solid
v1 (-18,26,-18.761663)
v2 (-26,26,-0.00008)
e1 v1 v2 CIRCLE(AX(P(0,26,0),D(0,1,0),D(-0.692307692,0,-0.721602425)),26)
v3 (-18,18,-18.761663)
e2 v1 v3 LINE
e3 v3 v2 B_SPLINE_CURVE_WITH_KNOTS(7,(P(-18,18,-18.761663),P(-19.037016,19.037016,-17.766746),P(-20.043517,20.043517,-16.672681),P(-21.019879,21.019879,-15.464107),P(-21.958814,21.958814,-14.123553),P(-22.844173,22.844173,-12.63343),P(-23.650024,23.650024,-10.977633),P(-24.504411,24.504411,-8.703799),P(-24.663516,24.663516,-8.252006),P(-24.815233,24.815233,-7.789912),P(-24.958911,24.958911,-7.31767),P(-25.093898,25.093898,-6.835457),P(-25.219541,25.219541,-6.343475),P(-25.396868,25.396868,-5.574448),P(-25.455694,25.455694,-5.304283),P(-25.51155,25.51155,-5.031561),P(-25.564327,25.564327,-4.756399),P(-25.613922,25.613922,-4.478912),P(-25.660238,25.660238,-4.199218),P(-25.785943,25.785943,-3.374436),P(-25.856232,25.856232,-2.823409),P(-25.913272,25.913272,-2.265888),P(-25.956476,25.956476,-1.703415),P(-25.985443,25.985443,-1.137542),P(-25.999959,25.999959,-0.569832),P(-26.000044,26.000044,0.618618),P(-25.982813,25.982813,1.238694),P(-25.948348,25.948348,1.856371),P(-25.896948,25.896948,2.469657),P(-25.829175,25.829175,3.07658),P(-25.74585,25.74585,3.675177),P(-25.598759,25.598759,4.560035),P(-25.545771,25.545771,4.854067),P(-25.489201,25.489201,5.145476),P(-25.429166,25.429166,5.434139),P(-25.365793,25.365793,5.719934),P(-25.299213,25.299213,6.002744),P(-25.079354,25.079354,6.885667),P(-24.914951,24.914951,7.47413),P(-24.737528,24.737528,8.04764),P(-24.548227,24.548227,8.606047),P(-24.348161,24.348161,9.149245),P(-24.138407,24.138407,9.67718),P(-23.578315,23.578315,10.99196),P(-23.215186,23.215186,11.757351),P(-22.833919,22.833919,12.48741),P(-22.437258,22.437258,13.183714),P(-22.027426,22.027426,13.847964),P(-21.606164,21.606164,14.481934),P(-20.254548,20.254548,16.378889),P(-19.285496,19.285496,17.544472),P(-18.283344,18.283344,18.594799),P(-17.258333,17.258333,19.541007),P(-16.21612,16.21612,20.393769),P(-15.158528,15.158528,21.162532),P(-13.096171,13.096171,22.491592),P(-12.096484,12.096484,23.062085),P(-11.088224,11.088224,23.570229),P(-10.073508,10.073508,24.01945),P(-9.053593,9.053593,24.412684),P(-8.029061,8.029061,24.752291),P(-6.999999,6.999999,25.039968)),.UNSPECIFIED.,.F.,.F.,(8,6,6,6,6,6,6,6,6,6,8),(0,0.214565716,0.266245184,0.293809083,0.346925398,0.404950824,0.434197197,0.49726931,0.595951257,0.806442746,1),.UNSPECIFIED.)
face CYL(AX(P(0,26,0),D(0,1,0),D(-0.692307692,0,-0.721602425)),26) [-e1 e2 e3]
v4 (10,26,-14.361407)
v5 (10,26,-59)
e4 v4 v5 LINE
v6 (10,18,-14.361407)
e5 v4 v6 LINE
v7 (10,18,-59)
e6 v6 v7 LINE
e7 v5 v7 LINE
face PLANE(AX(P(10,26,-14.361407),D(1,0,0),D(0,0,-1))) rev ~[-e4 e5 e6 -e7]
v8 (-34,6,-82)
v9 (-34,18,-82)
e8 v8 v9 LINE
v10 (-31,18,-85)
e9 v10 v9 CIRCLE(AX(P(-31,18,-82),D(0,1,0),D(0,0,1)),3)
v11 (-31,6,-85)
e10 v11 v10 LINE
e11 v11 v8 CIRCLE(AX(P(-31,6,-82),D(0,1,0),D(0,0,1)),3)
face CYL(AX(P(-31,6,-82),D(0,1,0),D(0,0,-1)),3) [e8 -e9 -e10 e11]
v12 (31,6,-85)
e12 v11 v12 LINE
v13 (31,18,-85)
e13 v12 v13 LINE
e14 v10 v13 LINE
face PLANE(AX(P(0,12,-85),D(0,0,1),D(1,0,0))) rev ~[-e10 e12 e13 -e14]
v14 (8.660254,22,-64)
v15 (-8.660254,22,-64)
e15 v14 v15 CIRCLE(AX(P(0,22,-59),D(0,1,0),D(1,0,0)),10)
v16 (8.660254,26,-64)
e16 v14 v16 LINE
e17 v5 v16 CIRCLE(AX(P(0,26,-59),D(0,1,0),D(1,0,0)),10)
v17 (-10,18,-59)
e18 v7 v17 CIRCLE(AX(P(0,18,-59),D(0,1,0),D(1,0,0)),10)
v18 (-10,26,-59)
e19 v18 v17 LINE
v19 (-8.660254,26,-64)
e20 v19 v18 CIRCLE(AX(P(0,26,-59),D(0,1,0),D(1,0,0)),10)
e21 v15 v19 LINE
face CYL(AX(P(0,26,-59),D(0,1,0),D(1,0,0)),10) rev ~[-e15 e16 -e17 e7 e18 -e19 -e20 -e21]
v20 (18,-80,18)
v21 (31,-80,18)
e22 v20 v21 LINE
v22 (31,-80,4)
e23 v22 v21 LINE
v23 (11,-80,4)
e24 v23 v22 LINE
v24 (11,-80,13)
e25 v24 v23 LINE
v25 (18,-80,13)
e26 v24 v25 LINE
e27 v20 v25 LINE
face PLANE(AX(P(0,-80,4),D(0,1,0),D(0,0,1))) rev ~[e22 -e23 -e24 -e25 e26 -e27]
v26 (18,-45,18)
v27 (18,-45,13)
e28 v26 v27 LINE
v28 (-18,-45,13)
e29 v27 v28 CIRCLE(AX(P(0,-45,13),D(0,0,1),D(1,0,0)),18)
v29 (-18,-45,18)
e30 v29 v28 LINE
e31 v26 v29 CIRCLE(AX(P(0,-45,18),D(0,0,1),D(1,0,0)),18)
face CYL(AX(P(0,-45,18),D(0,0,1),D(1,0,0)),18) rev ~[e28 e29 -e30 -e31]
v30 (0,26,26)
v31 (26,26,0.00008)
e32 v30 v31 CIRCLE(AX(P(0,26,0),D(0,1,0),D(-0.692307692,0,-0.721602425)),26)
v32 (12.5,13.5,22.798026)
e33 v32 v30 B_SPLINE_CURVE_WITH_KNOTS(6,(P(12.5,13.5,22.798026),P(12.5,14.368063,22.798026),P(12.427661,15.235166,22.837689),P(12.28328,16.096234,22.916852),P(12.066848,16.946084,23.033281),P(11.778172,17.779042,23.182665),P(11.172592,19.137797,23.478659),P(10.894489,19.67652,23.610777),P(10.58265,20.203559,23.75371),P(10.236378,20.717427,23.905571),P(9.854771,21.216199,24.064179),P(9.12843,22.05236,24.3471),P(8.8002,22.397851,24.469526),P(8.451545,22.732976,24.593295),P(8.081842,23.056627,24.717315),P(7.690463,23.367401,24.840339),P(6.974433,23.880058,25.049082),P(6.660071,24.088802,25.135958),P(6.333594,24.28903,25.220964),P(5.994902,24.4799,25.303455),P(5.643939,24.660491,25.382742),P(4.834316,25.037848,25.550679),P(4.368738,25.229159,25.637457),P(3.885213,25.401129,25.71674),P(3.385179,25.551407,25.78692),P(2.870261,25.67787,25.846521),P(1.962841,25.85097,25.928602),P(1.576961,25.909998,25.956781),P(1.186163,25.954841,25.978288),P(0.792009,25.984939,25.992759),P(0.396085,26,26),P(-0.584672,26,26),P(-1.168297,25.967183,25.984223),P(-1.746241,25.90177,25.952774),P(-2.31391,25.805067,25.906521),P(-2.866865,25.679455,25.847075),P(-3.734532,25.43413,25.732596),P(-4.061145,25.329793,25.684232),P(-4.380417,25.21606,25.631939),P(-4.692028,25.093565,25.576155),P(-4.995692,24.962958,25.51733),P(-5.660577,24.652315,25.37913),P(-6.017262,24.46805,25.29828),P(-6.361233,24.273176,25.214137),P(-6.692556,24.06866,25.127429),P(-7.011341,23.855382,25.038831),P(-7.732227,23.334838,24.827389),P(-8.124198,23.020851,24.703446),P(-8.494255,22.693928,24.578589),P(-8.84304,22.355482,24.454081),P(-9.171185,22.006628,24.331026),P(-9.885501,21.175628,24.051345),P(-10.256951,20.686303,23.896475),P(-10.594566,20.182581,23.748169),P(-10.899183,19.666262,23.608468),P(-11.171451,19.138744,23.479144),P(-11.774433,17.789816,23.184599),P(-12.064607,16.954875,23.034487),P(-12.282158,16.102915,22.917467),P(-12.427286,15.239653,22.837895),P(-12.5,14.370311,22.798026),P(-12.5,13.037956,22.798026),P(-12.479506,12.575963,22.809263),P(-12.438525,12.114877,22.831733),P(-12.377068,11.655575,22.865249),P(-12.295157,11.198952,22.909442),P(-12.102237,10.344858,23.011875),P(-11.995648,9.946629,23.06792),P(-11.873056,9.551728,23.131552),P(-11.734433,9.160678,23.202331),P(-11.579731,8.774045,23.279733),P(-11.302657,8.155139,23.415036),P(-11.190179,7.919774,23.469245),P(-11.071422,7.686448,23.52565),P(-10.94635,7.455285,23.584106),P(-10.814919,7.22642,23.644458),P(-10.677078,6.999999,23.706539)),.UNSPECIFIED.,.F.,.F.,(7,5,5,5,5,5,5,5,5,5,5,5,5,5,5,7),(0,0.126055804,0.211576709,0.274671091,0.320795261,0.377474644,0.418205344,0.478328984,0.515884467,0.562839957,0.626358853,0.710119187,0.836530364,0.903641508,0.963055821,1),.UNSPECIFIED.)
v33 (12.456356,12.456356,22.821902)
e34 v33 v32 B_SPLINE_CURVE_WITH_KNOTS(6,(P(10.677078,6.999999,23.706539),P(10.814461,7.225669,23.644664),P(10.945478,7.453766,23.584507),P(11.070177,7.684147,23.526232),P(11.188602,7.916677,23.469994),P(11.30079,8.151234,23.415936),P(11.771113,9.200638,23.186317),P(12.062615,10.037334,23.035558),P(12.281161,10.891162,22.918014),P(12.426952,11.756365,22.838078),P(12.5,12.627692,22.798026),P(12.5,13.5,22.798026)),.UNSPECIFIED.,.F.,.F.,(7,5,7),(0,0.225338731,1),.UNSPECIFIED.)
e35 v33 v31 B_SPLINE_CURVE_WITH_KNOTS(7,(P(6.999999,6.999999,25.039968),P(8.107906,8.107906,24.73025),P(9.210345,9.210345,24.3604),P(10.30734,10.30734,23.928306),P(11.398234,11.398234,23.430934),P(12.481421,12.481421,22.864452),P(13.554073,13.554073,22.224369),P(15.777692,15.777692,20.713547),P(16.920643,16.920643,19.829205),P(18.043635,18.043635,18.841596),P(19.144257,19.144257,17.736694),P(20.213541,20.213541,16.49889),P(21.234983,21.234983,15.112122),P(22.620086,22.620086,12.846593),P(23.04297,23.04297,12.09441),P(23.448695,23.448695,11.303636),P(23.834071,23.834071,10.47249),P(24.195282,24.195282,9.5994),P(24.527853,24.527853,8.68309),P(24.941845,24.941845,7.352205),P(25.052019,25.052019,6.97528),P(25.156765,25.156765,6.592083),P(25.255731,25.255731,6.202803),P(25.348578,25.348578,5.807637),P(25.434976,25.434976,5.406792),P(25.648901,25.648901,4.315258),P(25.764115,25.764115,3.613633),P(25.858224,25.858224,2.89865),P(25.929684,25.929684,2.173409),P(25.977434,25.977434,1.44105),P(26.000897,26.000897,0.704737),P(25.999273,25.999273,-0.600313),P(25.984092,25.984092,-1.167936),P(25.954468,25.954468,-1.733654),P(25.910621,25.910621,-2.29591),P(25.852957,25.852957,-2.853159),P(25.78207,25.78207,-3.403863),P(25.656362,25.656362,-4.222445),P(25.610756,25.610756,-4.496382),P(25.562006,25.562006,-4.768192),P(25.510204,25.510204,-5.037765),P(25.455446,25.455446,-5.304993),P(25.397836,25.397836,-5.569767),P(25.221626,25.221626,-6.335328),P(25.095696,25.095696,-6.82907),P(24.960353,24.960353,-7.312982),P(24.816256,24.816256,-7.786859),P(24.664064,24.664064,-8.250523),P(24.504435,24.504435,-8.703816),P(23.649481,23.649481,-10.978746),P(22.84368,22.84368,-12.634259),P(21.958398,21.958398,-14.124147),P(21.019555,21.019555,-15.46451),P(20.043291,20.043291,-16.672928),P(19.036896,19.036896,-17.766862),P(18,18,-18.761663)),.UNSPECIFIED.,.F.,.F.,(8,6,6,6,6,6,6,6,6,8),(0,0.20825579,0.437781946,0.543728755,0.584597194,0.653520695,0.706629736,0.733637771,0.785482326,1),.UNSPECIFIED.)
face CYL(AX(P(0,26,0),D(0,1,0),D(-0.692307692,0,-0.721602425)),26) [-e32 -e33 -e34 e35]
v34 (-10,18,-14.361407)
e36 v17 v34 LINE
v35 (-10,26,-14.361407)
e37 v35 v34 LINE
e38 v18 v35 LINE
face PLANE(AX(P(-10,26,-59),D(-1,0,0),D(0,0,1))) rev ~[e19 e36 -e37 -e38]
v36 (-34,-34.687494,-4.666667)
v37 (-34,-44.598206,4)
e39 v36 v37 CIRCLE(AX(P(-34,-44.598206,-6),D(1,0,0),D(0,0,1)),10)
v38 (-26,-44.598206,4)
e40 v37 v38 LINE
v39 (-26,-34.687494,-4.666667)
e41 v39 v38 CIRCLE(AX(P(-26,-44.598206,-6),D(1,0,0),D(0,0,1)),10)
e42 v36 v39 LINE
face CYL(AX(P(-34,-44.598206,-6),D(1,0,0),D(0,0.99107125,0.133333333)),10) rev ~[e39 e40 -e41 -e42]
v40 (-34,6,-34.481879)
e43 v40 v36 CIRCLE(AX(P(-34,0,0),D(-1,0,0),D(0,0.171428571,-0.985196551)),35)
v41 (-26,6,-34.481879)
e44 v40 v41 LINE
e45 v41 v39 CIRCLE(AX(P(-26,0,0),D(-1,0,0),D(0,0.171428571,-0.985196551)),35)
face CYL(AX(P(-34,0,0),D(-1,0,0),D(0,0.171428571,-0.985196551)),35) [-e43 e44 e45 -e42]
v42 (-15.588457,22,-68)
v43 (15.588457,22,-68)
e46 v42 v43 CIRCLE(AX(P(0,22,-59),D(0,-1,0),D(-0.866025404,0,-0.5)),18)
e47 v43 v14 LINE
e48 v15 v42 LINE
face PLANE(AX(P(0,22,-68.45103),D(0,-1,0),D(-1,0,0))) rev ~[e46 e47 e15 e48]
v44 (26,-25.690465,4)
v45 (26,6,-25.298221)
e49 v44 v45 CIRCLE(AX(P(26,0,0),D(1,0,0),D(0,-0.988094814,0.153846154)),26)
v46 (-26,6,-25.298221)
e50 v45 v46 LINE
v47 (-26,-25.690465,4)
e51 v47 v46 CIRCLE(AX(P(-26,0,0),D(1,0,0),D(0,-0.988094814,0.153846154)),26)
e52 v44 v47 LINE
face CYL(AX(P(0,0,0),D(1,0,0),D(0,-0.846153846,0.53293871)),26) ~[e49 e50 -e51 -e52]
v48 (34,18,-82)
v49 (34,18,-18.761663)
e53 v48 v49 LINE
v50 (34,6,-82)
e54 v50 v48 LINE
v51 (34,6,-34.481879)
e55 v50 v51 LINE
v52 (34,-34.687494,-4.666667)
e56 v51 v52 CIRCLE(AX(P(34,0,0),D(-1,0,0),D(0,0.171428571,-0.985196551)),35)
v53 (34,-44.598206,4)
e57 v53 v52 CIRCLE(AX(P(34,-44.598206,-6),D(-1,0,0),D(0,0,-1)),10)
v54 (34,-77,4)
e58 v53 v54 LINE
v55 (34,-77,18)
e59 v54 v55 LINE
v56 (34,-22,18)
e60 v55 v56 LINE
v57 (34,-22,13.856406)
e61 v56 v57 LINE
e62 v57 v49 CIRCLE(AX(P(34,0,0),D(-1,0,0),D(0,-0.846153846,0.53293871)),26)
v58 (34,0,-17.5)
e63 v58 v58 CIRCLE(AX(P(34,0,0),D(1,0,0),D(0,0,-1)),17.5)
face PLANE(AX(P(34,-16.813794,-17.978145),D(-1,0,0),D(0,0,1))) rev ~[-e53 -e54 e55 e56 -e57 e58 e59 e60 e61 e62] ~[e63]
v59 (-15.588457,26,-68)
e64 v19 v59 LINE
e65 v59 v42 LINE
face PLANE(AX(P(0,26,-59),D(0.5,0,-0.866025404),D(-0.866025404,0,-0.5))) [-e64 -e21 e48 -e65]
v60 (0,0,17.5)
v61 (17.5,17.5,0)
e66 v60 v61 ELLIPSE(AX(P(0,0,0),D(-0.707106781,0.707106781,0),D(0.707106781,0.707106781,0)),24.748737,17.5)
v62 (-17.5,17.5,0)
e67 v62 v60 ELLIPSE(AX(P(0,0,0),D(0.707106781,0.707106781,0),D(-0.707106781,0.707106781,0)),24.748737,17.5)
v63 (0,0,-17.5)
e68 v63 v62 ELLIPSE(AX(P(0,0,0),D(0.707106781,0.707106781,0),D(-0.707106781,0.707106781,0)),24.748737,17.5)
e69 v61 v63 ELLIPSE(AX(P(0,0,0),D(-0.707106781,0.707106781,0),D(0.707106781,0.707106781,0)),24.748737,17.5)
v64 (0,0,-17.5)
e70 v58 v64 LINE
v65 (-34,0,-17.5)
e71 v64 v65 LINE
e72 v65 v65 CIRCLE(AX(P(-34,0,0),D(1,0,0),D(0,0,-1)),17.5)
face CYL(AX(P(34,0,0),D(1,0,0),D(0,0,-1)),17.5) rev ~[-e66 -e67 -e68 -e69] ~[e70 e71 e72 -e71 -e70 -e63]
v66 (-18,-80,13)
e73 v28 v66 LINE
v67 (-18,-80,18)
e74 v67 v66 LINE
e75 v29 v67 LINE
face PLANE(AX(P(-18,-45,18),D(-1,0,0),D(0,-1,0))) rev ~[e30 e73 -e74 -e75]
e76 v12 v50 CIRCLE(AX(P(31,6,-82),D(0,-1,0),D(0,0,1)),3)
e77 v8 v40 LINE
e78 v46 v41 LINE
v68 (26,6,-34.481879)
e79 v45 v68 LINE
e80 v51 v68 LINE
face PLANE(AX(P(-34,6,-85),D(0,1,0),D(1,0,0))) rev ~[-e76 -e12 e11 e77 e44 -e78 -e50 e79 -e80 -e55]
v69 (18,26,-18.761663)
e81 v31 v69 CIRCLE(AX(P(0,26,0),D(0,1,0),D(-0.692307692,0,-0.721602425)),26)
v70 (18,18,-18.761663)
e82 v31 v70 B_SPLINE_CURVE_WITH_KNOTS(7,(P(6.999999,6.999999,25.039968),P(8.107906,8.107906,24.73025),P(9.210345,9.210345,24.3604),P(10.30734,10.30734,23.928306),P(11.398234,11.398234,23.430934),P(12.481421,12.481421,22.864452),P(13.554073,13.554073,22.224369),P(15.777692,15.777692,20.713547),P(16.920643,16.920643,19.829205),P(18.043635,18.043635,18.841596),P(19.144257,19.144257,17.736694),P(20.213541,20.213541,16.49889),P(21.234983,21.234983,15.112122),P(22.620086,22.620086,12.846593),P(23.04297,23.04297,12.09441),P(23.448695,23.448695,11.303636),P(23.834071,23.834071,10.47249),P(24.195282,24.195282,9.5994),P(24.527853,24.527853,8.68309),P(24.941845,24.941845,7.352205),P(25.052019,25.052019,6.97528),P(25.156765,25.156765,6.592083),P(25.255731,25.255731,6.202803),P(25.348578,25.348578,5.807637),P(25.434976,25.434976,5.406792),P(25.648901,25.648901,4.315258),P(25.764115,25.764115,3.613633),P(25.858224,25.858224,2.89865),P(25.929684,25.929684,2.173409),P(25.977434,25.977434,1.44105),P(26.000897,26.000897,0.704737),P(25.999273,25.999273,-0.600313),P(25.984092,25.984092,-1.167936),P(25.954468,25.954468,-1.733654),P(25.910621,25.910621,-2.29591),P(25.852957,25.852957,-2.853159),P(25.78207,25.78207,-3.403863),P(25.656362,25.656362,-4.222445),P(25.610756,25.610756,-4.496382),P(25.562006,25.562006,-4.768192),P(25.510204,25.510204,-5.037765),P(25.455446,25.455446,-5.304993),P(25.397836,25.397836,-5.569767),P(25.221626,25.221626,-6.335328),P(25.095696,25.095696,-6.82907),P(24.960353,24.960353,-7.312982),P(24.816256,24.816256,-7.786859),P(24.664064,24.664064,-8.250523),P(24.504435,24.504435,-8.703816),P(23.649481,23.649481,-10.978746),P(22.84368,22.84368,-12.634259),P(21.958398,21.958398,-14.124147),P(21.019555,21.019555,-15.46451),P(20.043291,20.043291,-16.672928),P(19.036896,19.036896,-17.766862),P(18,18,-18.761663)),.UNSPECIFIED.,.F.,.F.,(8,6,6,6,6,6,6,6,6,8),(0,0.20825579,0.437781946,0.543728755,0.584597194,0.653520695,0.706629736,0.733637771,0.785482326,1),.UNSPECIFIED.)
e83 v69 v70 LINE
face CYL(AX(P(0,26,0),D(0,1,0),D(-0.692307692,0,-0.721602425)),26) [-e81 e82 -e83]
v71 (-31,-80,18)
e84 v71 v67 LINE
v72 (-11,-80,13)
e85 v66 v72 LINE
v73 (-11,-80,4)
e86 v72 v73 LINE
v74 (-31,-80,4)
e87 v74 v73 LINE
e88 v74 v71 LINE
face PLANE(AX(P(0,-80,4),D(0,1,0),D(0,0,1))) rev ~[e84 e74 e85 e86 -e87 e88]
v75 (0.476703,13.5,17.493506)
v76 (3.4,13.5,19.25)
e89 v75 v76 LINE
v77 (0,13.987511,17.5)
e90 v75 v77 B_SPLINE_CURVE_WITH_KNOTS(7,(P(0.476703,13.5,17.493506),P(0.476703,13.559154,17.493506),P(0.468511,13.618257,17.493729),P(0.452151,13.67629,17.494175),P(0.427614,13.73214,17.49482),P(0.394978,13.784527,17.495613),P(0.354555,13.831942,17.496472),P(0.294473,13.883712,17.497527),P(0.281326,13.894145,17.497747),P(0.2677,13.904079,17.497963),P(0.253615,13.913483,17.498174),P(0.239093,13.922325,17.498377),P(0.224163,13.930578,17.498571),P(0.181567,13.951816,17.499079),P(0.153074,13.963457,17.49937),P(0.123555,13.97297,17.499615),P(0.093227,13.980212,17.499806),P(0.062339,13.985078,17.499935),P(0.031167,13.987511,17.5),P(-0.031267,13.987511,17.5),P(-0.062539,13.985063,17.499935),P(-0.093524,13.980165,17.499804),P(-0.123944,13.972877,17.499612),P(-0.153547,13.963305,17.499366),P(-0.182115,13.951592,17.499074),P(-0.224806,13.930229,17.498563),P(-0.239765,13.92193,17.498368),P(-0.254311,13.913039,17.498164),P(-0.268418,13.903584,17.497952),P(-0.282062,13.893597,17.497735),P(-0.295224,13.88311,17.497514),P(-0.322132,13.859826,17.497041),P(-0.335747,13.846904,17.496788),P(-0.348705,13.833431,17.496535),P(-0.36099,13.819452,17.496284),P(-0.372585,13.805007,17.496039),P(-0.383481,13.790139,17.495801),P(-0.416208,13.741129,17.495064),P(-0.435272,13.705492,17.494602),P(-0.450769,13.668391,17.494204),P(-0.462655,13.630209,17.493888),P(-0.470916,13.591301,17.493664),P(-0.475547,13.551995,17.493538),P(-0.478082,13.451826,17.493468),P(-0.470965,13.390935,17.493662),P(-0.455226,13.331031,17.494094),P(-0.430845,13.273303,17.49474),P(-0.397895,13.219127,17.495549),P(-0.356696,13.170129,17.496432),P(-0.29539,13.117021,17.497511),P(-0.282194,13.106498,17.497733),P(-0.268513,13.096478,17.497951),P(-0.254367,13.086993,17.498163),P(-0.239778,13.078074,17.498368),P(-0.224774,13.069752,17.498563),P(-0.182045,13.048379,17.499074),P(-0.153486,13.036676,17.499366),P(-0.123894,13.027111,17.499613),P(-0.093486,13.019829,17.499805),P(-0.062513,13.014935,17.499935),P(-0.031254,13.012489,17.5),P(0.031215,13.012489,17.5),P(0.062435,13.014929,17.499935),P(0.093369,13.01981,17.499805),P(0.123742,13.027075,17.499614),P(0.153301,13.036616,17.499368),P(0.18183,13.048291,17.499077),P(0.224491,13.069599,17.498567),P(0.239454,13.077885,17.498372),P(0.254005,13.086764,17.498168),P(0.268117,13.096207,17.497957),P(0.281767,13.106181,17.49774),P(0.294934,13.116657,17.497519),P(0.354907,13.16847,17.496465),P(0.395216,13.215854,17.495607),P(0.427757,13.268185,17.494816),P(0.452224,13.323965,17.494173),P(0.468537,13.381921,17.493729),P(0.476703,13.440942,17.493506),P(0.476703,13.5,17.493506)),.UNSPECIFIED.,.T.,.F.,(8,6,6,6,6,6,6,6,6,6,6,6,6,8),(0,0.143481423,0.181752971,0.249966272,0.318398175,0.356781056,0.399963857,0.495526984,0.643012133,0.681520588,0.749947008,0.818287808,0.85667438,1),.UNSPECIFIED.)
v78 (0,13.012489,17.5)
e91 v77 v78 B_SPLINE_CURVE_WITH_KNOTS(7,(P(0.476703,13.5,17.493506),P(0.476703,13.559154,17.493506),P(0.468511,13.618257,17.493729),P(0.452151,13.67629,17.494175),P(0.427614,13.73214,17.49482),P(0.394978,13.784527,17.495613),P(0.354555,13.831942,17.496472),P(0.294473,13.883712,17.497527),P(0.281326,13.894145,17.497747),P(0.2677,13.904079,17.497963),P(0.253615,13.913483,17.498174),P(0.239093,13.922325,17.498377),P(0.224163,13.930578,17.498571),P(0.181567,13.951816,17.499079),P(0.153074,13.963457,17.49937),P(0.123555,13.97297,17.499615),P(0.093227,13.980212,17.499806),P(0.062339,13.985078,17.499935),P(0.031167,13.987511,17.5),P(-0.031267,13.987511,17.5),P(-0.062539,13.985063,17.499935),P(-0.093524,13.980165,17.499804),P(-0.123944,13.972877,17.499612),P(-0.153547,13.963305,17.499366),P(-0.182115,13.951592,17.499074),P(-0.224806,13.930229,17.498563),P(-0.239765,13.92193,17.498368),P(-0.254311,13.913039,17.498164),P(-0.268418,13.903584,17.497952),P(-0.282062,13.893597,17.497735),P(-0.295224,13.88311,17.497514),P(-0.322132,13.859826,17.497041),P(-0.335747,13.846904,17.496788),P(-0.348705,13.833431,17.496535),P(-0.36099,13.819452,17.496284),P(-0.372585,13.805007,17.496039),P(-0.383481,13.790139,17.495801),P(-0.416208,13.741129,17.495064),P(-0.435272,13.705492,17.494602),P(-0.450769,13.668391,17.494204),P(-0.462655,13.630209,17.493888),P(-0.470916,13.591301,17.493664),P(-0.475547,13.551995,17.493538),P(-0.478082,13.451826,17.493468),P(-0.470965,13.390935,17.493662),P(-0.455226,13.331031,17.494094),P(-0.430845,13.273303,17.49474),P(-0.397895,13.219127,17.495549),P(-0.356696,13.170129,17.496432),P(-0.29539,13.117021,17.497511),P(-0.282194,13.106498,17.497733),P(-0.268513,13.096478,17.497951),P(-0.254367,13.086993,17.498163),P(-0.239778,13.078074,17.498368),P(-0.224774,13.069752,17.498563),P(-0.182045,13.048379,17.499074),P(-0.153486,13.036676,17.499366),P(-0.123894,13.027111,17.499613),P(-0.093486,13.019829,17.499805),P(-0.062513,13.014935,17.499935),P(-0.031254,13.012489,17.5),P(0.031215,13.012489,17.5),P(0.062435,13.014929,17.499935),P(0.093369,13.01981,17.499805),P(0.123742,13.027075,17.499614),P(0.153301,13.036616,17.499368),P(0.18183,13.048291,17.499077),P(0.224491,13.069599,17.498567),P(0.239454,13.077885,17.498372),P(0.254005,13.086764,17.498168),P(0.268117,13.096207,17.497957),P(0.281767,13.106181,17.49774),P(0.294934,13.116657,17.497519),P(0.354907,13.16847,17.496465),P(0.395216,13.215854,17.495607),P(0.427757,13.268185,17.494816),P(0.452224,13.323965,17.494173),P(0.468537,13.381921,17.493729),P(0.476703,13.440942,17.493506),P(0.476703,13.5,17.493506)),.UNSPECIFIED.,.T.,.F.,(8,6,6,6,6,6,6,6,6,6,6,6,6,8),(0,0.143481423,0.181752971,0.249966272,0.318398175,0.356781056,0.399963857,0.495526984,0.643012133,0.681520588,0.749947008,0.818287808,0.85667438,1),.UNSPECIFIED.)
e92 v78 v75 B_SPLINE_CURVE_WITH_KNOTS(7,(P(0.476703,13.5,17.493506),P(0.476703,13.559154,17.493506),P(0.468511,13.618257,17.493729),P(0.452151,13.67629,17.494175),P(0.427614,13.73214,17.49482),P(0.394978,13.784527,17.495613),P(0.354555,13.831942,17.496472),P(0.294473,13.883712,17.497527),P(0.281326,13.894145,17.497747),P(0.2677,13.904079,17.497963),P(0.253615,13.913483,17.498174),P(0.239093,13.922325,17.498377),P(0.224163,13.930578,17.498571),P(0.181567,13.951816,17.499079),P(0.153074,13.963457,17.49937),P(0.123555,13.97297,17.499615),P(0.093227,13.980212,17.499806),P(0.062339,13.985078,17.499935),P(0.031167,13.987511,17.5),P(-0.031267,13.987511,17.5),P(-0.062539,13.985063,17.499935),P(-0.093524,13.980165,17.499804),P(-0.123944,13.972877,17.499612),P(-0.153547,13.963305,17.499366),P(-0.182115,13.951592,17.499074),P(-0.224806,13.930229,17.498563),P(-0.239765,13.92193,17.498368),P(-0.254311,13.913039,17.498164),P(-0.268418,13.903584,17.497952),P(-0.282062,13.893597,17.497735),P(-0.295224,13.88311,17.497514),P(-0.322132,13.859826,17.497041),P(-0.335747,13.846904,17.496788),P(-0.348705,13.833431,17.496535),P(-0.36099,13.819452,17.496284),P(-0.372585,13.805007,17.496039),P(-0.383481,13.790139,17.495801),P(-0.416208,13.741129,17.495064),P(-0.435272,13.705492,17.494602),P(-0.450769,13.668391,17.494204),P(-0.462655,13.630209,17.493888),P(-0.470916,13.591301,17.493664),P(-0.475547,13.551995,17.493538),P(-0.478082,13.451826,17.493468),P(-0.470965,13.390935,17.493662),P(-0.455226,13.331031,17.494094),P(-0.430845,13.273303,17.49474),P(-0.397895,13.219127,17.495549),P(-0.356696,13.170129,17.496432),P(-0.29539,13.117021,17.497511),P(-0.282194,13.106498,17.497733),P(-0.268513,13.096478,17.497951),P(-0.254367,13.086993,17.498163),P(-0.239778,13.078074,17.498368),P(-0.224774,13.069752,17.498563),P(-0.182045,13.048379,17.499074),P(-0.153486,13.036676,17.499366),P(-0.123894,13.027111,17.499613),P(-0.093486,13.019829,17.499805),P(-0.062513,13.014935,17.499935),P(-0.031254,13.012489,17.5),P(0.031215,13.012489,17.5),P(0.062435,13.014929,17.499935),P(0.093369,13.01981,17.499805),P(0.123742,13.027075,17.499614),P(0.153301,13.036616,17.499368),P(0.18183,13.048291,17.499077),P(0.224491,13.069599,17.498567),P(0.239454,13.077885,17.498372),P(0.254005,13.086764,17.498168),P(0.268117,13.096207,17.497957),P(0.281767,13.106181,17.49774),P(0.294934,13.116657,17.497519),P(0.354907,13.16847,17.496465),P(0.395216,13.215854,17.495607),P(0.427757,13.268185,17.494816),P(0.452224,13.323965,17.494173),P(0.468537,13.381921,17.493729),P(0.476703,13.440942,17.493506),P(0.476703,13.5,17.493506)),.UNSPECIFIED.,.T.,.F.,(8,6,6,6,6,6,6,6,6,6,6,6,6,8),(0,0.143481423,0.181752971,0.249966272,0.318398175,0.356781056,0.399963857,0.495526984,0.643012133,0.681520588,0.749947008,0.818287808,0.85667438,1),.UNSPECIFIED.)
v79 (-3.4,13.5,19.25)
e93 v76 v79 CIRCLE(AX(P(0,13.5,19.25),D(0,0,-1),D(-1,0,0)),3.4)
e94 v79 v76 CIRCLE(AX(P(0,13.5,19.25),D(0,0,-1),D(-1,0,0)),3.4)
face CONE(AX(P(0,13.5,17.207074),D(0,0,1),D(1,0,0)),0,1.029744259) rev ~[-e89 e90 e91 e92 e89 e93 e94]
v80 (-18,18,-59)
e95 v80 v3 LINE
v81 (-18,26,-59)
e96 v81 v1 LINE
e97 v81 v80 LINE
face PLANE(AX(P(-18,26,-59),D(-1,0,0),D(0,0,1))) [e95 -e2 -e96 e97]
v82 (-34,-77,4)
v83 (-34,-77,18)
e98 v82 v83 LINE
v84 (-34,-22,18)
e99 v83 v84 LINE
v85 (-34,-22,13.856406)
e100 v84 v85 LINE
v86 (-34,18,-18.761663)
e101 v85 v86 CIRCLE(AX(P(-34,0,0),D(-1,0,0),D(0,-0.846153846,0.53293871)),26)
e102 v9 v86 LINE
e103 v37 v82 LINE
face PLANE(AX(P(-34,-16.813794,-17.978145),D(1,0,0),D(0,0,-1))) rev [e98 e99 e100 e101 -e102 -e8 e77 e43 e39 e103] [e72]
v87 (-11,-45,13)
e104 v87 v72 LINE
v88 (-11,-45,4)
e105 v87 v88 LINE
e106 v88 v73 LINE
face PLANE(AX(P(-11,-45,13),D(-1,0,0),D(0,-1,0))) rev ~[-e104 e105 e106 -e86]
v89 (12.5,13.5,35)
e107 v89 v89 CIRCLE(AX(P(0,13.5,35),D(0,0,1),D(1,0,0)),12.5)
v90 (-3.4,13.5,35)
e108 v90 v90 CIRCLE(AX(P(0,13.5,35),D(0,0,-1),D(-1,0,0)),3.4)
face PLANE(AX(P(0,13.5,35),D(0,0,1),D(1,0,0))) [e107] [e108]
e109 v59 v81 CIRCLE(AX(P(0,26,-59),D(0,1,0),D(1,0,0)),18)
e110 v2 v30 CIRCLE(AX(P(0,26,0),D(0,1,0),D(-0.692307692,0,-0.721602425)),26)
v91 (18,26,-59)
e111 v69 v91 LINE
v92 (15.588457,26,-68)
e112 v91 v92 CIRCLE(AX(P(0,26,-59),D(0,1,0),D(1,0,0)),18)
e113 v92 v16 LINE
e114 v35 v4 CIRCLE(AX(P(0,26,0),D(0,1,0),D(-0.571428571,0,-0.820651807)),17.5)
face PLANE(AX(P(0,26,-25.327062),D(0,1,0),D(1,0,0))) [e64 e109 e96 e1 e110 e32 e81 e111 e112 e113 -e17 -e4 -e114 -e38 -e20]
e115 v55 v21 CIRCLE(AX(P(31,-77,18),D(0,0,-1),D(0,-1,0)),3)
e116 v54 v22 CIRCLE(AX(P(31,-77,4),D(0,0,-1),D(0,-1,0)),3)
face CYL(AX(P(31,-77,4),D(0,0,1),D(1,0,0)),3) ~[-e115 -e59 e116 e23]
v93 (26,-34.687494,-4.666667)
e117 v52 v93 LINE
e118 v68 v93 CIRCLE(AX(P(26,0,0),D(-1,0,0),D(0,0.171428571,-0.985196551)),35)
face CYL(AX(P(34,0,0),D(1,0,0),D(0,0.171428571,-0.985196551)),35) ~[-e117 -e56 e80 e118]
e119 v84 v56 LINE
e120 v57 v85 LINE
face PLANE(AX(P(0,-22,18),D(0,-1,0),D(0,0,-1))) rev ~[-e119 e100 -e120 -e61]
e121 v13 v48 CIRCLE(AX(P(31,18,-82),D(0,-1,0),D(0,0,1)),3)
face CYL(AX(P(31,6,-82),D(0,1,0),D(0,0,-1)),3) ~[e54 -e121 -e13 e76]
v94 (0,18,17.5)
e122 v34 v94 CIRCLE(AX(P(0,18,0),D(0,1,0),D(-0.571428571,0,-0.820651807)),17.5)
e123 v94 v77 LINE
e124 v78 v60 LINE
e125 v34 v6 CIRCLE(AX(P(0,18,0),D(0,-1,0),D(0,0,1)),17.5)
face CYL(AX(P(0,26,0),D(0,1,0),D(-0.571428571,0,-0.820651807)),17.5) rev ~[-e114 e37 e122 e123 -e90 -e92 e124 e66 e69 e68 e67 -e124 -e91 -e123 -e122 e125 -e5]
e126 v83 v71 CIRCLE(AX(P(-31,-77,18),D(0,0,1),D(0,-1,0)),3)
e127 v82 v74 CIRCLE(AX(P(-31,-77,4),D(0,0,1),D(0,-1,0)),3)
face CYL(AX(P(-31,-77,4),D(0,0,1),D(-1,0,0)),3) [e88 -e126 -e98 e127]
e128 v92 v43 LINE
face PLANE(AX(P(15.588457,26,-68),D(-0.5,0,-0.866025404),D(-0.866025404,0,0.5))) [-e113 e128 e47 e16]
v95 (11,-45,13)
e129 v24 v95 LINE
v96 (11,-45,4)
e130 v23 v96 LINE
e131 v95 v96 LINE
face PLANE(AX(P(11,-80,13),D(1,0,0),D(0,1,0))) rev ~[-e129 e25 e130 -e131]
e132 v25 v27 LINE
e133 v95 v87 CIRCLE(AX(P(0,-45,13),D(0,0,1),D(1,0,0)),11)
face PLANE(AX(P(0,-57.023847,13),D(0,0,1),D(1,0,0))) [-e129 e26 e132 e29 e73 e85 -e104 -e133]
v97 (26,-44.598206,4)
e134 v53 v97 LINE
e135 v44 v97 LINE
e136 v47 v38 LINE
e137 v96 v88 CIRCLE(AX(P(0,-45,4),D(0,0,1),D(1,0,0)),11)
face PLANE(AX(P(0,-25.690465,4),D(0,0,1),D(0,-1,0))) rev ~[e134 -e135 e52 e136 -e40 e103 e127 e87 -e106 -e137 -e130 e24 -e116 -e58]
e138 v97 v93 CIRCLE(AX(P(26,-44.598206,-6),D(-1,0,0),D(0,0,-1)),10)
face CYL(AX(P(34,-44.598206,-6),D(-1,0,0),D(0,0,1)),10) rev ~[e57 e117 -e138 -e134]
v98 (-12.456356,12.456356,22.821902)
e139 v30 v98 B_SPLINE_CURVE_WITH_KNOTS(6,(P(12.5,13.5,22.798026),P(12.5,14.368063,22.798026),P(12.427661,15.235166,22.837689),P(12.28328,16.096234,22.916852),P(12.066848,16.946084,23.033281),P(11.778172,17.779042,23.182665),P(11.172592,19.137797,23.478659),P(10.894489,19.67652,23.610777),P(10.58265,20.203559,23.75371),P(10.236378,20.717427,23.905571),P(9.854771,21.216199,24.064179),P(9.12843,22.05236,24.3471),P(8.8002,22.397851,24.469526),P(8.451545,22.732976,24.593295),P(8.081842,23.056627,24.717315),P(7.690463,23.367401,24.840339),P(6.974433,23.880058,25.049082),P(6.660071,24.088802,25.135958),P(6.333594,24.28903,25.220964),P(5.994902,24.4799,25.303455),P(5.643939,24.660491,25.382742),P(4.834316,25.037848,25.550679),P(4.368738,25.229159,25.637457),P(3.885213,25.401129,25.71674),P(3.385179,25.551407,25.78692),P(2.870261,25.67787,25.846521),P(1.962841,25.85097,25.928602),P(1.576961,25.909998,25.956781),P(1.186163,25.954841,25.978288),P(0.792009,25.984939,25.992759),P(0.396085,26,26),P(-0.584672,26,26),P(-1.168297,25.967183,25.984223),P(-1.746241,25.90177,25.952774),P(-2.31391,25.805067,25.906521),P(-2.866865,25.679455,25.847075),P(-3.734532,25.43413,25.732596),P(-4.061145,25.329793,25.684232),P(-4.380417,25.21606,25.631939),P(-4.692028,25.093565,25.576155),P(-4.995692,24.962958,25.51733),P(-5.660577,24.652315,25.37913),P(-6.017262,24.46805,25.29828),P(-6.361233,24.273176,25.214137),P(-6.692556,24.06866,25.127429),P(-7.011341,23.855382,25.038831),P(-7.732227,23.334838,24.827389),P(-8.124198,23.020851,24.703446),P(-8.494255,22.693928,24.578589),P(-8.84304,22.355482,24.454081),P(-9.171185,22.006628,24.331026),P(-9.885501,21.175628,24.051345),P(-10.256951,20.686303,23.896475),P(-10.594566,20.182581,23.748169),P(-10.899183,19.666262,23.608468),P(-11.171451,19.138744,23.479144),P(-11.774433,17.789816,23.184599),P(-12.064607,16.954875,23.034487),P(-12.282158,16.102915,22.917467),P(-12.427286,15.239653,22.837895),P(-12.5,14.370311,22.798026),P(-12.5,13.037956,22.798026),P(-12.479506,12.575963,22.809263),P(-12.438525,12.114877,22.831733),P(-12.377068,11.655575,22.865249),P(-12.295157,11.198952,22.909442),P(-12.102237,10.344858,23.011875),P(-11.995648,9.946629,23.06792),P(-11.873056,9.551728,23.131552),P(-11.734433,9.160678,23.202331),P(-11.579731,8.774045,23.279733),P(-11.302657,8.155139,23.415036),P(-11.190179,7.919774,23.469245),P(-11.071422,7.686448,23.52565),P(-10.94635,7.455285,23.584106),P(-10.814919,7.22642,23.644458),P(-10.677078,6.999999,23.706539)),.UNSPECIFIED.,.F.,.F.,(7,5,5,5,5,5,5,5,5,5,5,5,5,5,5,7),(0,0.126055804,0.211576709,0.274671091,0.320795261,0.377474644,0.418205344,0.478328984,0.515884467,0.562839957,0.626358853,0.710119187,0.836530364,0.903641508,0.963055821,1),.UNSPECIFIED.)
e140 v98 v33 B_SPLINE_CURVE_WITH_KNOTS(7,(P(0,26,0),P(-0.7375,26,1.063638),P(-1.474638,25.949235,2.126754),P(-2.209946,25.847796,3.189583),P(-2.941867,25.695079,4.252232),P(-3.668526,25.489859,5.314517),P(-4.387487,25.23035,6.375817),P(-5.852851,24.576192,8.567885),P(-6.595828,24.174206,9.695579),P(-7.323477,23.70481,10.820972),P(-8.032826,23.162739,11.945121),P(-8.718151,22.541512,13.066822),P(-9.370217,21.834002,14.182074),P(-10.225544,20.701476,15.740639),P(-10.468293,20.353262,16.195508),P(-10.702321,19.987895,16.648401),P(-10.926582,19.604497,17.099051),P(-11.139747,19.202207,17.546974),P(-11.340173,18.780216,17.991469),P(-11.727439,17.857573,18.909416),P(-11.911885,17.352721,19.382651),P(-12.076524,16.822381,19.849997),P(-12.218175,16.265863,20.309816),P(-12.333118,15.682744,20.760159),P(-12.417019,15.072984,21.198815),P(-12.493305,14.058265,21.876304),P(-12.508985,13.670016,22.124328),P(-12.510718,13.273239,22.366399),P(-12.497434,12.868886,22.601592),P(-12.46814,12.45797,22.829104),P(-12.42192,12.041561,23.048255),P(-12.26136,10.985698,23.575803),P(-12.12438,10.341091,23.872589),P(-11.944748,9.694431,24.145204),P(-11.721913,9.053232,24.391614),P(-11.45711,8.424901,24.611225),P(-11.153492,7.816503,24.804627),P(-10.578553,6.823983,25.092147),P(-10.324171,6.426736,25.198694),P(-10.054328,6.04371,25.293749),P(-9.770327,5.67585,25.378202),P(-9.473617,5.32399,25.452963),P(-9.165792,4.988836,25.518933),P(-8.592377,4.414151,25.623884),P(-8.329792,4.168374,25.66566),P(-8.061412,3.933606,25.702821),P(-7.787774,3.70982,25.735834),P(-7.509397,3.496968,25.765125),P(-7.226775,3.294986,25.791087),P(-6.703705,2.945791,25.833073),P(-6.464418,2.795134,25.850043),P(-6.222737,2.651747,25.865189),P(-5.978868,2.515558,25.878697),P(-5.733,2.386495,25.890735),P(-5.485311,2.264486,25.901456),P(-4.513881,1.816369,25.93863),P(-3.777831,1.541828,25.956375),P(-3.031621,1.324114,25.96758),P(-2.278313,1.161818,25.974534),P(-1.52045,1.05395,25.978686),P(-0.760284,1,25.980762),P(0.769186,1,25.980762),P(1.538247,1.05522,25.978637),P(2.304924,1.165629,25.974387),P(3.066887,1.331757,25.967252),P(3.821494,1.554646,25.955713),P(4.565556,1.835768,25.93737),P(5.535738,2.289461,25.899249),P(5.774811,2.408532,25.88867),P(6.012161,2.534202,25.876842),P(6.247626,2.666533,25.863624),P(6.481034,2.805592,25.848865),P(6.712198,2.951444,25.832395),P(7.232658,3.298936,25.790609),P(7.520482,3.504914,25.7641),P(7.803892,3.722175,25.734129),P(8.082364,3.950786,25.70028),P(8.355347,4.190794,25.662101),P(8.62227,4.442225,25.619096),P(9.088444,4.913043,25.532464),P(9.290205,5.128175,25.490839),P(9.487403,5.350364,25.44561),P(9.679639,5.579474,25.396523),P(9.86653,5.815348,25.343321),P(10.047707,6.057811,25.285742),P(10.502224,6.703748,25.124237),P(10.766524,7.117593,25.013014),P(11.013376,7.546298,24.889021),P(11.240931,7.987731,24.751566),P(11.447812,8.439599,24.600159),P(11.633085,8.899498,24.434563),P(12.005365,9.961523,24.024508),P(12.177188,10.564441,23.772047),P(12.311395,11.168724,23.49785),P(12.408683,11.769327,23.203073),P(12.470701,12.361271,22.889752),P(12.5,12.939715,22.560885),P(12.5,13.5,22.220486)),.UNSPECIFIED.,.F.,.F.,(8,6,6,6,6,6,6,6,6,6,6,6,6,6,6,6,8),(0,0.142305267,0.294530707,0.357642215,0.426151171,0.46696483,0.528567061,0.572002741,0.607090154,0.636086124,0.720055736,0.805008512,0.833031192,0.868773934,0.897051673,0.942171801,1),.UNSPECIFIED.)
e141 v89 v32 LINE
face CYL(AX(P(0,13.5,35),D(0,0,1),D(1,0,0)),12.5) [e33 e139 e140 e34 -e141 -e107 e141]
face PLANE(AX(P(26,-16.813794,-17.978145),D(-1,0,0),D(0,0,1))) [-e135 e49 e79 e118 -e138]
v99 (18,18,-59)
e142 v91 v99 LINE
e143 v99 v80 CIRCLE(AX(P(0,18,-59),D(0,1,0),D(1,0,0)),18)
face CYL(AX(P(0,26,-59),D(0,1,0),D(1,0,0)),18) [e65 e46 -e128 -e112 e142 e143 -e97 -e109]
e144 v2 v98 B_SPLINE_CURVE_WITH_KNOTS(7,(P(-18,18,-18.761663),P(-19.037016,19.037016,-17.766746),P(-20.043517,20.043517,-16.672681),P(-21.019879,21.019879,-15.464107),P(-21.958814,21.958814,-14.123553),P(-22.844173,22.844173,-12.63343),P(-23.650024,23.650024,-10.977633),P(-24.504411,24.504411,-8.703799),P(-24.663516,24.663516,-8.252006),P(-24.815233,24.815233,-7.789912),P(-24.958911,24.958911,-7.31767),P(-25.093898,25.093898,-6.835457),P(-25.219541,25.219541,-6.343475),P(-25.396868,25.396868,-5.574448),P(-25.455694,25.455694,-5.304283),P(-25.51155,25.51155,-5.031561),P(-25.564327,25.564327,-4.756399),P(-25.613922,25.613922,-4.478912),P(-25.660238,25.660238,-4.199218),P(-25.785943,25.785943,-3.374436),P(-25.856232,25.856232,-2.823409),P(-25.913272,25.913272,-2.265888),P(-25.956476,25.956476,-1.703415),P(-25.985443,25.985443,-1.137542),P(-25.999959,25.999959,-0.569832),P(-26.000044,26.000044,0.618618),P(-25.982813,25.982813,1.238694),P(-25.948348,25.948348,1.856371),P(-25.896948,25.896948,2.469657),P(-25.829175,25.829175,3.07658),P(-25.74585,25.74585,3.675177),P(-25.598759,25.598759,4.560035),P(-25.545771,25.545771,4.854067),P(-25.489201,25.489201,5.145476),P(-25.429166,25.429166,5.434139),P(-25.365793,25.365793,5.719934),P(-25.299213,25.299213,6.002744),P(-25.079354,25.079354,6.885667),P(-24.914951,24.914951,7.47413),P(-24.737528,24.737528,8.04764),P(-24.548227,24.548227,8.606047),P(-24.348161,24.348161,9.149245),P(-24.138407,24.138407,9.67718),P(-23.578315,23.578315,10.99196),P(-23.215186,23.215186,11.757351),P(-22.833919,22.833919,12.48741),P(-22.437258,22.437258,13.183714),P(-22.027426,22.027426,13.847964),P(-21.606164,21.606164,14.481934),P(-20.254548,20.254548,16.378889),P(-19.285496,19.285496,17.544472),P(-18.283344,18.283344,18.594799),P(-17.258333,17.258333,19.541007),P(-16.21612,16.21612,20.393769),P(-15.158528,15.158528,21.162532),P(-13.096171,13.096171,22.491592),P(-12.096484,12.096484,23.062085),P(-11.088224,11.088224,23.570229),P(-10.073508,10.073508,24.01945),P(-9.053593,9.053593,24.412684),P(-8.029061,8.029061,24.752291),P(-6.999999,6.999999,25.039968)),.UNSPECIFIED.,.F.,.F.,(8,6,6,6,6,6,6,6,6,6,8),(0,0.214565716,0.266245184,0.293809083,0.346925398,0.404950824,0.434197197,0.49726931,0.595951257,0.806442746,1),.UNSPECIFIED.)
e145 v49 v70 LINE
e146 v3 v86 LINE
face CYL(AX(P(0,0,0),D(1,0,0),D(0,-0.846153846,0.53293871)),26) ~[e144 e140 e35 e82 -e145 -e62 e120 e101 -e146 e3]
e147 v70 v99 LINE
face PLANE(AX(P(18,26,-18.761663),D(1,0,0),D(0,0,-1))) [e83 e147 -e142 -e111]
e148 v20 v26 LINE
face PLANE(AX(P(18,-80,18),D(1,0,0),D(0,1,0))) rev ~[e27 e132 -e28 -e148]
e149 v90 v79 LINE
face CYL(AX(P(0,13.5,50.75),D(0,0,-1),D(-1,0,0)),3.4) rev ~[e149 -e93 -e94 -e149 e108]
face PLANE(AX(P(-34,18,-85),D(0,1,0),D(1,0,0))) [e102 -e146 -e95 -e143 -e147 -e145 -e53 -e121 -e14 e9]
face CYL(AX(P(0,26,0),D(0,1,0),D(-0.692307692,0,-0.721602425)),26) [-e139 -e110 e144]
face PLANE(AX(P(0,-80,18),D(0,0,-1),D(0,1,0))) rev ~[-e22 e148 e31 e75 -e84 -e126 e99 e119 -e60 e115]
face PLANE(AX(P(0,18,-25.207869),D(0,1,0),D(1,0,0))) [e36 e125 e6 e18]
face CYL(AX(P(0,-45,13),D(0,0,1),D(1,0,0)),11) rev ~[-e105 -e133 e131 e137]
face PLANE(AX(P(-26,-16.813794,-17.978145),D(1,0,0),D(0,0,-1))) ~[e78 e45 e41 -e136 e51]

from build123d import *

# Parameters (mm, degrees)
EXTRUDE_6_DEPTH        = 34
EXTRUDE_7_REACH        = 108.193
EXTRUDE_7_END_RADIUS   = 26
SKETCH_15_R            = 12.5
EXTRUDE_8_REACH        = 150.176
EXTRUDE_8_END_RADIUS   = 26
SKETCH_16_W            = 68
SKETCH_16_H            = 12
EXTRUDE_9_DEPTH        = 8
FILLET_2_R             = 10
EXTRUDE_10_DEPTH       = 19
CUT_EXTRUDE_7_DEPTH    = 8
SKETCH_20_R            = 17.5
CUT_EXTRUDE_8_DEPTH    = 68
CUT_EXTRUDE_9_REACH    = 136.108
SKETCH_21_R            = 17.5
CUT_EXTRUDE_10_DEPTH   = 5
CUT_EXTRUDE_11_DEPTH   = 9
CUT_EXTRUDE_12_DEPTH   = 4
FILLET_3_R             = 3
HOLE_WIZARD_M8_1_D     = 6.8
HOLE_WIZARD_M8_1_DEPTH = 15.75
HOLE_WIZARD_M8_1_TIP   = 2.042926105


with BuildPart() as part:
    # 草图1 → 凸台-拉伸6 (new, symmetric)
    with BuildSketch(Plane(origin=(0, 0, 0), x_dir=(0, 0, -1), z_dir=(1, 0, 0))):
        with BuildLine():
            Line((-18, -22), (-13.856406461, -22))
            ThreePointArc((-13.856406461, -22), (9.116890708, 24.349174602), (-4, -25.690465157))
            Line((-4, -25.690465157), (-4, -80))
            Line((-4, -80), (-18, -80))
            Line((-18, -80), (-18, -22))
        make_face()
    extrude(amount=EXTRUDE_6_DEPTH, both=True)

    # 凸台-拉伸7: up to this cylinder (the profile starts outside it)
    extrude_7_end = Plane(origin=(0, 0, 0), z_dir=(-1, 0, 0)) * Cylinder(EXTRUDE_7_END_RADIUS, 269.386, mode=Mode.PRIVATE)
    # 草图15 → 凸台-拉伸7 (add, up to the surface)
    with BuildSketch(Plane.XY.offset(35), mode=Mode.PRIVATE) as extrude_7_sk1:
        with Locations((0, 13.5)):
            Circle(SKETCH_15_R)
    extrude_7_tool1 = extrude(extrude_7_sk1.sketch, amount=-EXTRUDE_7_REACH, mode=Mode.PRIVATE) - extrude_7_end
    add(extrude_7_tool1.solids().sort_by_distance((0, 13.5, 35))[0])

    # 凸台-拉伸8: up to this cylinder (the profile starts outside it)
    extrude_8_end = Plane(origin=(0, 0, 0), z_dir=(-1, 0, 0)) * Cylinder(EXTRUDE_8_END_RADIUS, 353.352, mode=Mode.PRIVATE)
    # 草图16 → 凸台-拉伸8 (add, up to the surface)
    with BuildSketch(Plane.XY.offset(-85), mode=Mode.PRIVATE) as extrude_8_sk1:
        with Locations((0, 12)):
            Rectangle(SKETCH_16_W, SKETCH_16_H)
    extrude_8_tool1 = extrude(extrude_8_sk1.sketch, amount=EXTRUDE_8_REACH, mode=Mode.PRIVATE) - extrude_8_end
    add(extrude_8_tool1.solids().sort_by_distance((0, 12, -85))[0])

    # 草图17 → 凸台-拉伸9 (add)
    with BuildSketch(Plane(origin=(34, 0, 0), x_dir=(0, 0, -1), z_dir=(1, 0, 0))):
        with BuildLine():
            Line((-4, -34.770677301), (-4, -25.690465157))
            ThreePointArc((-4, -25.690465157), (19.091227119, -17.650072155), (25.298221281, 6))
            Line((25.298221281, 6), (34.481879299, 6))
            ThreePointArc((34.481879299, 6), (25.452863755, -24.023982324), (-4, -34.770677301))
        make_face()
    extrude_9 = extrude(amount=-EXTRUDE_9_DEPTH)

    # 镜向2: 凸台-拉伸9 across plane
    add(extrude_9.mirror(Plane(origin=(0, 0, 0), x_dir=(0, 0, 1), z_dir=(1, 0, 0))))

    # 圆角2
    fillet_2_edges = [part.edges().sort_by_distance(p)[0] for p in [
        (30, -34.770677301, 4),
        (-30, -34.770677301, 4),
    ]]
    fillet(fillet_2_edges, radius=FILLET_2_R)

    # 草图18 → 凸台-拉伸10 (add)
    with BuildSketch(Plane(origin=(0, 26, 0), x_dir=(1, 0, 0), z_dir=(0, 1, 0))):
        with BuildLine():
            Line((-18, 59), (-18, 18.761663039))
            ThreePointArc((-18, 18.761663039), (0, -26), (18, 18.761663039))
            Line((18, 18.761663039), (18, 59))
            ThreePointArc((18, 59), (0, 77), (-18, 59))
        make_face()
    extrude(amount=-EXTRUDE_10_DEPTH)

    # 草图19 → 切除-拉伸7 (cut)
    with BuildSketch(Plane(origin=(0, 26, 0), x_dir=(1, 0, 0), z_dir=(0, 1, 0))):
        with BuildLine():
            Line((-10, 59), (-10, 14.361406616))
            ThreePointArc((-10, 14.361406616), (0, -17.5), (10, 14.361406616))
            Line((10, 14.361406616), (10, 59))
            ThreePointArc((10, 59), (0, 69), (-10, 59))
        make_face()
    extrude(amount=-CUT_EXTRUDE_7_DEPTH, mode=Mode.SUBTRACT)

    # 草图20 → 切除-拉伸8 (cut)
    with BuildSketch(Plane(origin=(34, 0, 0), x_dir=(0, 0, -1), z_dir=(1, 0, 0))):
        Circle(SKETCH_20_R)
    extrude(amount=-CUT_EXTRUDE_8_DEPTH, mode=Mode.SUBTRACT)

    # 草图21 → 切除-拉伸9 (cut, up to next)
    with BuildSketch(Plane(origin=(0, 18, 0), x_dir=(1, 0, 0), z_dir=(0, 1, 0)), mode=Mode.PRIVATE) as cut_extrude_9_sk1:
        with Locations(Location((0, 0, 0), (0, 0, 270))):
            Circle(SKETCH_21_R)
    cut_extrude_9_tool1 = extrude(cut_extrude_9_sk1.sketch, amount=-CUT_EXTRUDE_9_REACH, mode=Mode.PRIVATE) & part.part
    add(cut_extrude_9_tool1.solids().sort_by_distance((0, 18, 0))[0], mode=Mode.SUBTRACT)

    # 草图22 → 切除-拉伸10 (cut)
    with BuildSketch(Plane.XY.offset(18)):
        with BuildLine():
            Line((-18, -45), (-18, -80))
            Line((-18, -80), (18, -80))
            Line((18, -80), (18, -45))
            ThreePointArc((18, -45), (0, -27), (-18, -45))
        make_face()
    extrude(amount=-CUT_EXTRUDE_10_DEPTH, mode=Mode.SUBTRACT)

    # 草图23 → 切除-拉伸11 (cut)
    with BuildSketch(Plane.XY.offset(13)):
        with BuildLine():
            Line((11, -80), (11, -45))
            ThreePointArc((11, -45), (0, -34), (-11, -45))
            Line((-11, -45), (-11, -80))
            Line((-11, -80), (11, -80))
        make_face()
    extrude(amount=-CUT_EXTRUDE_11_DEPTH, mode=Mode.SUBTRACT)

    # 草图24 → 切除-拉伸12 (cut)
    with BuildSketch(Plane(origin=(0, 26, 0), x_dir=(1, 0, 0), z_dir=(0, 1, 0))):
        with BuildLine():
            Line((0, 59), (-15.588457268, 68))
            ThreePointArc((-15.588457268, 68), (0, 77), (15.588457268, 68))
            Line((15.588457268, 68), (0, 59))
        make_face()
    extrude(amount=-CUT_EXTRUDE_12_DEPTH, mode=Mode.SUBTRACT)

    # 圆角3
    fillet_3_edges = [part.edges().sort_by_distance(p)[0] for p in [
        (34, 12, -85),
        (-34, 12, -85),
        (-34, -80, 11),
        (34, -80, 11),
    ]]
    fillet(fillet_3_edges, radius=FILLET_3_R)

    # M8 螺纹孔1
    with Locations(Plane(origin=(0, 13.5, 35), x_dir=(1, 0, 0), z_dir=(0, 0, 1))):
        with Locations((0, 0)):
            Hole(HOLE_WIZARD_M8_1_D / 2, depth=HOLE_WIZARD_M8_1_DEPTH)
            with Locations((0, 0, -(HOLE_WIZARD_M8_1_DEPTH + HOLE_WIZARD_M8_1_TIP / 2))):  # 118° drill point
                Cone(0, HOLE_WIZARD_M8_1_D / 2, HOLE_WIZARD_M8_1_TIP, mode=Mode.SUBTRACT)


solid = part.part
